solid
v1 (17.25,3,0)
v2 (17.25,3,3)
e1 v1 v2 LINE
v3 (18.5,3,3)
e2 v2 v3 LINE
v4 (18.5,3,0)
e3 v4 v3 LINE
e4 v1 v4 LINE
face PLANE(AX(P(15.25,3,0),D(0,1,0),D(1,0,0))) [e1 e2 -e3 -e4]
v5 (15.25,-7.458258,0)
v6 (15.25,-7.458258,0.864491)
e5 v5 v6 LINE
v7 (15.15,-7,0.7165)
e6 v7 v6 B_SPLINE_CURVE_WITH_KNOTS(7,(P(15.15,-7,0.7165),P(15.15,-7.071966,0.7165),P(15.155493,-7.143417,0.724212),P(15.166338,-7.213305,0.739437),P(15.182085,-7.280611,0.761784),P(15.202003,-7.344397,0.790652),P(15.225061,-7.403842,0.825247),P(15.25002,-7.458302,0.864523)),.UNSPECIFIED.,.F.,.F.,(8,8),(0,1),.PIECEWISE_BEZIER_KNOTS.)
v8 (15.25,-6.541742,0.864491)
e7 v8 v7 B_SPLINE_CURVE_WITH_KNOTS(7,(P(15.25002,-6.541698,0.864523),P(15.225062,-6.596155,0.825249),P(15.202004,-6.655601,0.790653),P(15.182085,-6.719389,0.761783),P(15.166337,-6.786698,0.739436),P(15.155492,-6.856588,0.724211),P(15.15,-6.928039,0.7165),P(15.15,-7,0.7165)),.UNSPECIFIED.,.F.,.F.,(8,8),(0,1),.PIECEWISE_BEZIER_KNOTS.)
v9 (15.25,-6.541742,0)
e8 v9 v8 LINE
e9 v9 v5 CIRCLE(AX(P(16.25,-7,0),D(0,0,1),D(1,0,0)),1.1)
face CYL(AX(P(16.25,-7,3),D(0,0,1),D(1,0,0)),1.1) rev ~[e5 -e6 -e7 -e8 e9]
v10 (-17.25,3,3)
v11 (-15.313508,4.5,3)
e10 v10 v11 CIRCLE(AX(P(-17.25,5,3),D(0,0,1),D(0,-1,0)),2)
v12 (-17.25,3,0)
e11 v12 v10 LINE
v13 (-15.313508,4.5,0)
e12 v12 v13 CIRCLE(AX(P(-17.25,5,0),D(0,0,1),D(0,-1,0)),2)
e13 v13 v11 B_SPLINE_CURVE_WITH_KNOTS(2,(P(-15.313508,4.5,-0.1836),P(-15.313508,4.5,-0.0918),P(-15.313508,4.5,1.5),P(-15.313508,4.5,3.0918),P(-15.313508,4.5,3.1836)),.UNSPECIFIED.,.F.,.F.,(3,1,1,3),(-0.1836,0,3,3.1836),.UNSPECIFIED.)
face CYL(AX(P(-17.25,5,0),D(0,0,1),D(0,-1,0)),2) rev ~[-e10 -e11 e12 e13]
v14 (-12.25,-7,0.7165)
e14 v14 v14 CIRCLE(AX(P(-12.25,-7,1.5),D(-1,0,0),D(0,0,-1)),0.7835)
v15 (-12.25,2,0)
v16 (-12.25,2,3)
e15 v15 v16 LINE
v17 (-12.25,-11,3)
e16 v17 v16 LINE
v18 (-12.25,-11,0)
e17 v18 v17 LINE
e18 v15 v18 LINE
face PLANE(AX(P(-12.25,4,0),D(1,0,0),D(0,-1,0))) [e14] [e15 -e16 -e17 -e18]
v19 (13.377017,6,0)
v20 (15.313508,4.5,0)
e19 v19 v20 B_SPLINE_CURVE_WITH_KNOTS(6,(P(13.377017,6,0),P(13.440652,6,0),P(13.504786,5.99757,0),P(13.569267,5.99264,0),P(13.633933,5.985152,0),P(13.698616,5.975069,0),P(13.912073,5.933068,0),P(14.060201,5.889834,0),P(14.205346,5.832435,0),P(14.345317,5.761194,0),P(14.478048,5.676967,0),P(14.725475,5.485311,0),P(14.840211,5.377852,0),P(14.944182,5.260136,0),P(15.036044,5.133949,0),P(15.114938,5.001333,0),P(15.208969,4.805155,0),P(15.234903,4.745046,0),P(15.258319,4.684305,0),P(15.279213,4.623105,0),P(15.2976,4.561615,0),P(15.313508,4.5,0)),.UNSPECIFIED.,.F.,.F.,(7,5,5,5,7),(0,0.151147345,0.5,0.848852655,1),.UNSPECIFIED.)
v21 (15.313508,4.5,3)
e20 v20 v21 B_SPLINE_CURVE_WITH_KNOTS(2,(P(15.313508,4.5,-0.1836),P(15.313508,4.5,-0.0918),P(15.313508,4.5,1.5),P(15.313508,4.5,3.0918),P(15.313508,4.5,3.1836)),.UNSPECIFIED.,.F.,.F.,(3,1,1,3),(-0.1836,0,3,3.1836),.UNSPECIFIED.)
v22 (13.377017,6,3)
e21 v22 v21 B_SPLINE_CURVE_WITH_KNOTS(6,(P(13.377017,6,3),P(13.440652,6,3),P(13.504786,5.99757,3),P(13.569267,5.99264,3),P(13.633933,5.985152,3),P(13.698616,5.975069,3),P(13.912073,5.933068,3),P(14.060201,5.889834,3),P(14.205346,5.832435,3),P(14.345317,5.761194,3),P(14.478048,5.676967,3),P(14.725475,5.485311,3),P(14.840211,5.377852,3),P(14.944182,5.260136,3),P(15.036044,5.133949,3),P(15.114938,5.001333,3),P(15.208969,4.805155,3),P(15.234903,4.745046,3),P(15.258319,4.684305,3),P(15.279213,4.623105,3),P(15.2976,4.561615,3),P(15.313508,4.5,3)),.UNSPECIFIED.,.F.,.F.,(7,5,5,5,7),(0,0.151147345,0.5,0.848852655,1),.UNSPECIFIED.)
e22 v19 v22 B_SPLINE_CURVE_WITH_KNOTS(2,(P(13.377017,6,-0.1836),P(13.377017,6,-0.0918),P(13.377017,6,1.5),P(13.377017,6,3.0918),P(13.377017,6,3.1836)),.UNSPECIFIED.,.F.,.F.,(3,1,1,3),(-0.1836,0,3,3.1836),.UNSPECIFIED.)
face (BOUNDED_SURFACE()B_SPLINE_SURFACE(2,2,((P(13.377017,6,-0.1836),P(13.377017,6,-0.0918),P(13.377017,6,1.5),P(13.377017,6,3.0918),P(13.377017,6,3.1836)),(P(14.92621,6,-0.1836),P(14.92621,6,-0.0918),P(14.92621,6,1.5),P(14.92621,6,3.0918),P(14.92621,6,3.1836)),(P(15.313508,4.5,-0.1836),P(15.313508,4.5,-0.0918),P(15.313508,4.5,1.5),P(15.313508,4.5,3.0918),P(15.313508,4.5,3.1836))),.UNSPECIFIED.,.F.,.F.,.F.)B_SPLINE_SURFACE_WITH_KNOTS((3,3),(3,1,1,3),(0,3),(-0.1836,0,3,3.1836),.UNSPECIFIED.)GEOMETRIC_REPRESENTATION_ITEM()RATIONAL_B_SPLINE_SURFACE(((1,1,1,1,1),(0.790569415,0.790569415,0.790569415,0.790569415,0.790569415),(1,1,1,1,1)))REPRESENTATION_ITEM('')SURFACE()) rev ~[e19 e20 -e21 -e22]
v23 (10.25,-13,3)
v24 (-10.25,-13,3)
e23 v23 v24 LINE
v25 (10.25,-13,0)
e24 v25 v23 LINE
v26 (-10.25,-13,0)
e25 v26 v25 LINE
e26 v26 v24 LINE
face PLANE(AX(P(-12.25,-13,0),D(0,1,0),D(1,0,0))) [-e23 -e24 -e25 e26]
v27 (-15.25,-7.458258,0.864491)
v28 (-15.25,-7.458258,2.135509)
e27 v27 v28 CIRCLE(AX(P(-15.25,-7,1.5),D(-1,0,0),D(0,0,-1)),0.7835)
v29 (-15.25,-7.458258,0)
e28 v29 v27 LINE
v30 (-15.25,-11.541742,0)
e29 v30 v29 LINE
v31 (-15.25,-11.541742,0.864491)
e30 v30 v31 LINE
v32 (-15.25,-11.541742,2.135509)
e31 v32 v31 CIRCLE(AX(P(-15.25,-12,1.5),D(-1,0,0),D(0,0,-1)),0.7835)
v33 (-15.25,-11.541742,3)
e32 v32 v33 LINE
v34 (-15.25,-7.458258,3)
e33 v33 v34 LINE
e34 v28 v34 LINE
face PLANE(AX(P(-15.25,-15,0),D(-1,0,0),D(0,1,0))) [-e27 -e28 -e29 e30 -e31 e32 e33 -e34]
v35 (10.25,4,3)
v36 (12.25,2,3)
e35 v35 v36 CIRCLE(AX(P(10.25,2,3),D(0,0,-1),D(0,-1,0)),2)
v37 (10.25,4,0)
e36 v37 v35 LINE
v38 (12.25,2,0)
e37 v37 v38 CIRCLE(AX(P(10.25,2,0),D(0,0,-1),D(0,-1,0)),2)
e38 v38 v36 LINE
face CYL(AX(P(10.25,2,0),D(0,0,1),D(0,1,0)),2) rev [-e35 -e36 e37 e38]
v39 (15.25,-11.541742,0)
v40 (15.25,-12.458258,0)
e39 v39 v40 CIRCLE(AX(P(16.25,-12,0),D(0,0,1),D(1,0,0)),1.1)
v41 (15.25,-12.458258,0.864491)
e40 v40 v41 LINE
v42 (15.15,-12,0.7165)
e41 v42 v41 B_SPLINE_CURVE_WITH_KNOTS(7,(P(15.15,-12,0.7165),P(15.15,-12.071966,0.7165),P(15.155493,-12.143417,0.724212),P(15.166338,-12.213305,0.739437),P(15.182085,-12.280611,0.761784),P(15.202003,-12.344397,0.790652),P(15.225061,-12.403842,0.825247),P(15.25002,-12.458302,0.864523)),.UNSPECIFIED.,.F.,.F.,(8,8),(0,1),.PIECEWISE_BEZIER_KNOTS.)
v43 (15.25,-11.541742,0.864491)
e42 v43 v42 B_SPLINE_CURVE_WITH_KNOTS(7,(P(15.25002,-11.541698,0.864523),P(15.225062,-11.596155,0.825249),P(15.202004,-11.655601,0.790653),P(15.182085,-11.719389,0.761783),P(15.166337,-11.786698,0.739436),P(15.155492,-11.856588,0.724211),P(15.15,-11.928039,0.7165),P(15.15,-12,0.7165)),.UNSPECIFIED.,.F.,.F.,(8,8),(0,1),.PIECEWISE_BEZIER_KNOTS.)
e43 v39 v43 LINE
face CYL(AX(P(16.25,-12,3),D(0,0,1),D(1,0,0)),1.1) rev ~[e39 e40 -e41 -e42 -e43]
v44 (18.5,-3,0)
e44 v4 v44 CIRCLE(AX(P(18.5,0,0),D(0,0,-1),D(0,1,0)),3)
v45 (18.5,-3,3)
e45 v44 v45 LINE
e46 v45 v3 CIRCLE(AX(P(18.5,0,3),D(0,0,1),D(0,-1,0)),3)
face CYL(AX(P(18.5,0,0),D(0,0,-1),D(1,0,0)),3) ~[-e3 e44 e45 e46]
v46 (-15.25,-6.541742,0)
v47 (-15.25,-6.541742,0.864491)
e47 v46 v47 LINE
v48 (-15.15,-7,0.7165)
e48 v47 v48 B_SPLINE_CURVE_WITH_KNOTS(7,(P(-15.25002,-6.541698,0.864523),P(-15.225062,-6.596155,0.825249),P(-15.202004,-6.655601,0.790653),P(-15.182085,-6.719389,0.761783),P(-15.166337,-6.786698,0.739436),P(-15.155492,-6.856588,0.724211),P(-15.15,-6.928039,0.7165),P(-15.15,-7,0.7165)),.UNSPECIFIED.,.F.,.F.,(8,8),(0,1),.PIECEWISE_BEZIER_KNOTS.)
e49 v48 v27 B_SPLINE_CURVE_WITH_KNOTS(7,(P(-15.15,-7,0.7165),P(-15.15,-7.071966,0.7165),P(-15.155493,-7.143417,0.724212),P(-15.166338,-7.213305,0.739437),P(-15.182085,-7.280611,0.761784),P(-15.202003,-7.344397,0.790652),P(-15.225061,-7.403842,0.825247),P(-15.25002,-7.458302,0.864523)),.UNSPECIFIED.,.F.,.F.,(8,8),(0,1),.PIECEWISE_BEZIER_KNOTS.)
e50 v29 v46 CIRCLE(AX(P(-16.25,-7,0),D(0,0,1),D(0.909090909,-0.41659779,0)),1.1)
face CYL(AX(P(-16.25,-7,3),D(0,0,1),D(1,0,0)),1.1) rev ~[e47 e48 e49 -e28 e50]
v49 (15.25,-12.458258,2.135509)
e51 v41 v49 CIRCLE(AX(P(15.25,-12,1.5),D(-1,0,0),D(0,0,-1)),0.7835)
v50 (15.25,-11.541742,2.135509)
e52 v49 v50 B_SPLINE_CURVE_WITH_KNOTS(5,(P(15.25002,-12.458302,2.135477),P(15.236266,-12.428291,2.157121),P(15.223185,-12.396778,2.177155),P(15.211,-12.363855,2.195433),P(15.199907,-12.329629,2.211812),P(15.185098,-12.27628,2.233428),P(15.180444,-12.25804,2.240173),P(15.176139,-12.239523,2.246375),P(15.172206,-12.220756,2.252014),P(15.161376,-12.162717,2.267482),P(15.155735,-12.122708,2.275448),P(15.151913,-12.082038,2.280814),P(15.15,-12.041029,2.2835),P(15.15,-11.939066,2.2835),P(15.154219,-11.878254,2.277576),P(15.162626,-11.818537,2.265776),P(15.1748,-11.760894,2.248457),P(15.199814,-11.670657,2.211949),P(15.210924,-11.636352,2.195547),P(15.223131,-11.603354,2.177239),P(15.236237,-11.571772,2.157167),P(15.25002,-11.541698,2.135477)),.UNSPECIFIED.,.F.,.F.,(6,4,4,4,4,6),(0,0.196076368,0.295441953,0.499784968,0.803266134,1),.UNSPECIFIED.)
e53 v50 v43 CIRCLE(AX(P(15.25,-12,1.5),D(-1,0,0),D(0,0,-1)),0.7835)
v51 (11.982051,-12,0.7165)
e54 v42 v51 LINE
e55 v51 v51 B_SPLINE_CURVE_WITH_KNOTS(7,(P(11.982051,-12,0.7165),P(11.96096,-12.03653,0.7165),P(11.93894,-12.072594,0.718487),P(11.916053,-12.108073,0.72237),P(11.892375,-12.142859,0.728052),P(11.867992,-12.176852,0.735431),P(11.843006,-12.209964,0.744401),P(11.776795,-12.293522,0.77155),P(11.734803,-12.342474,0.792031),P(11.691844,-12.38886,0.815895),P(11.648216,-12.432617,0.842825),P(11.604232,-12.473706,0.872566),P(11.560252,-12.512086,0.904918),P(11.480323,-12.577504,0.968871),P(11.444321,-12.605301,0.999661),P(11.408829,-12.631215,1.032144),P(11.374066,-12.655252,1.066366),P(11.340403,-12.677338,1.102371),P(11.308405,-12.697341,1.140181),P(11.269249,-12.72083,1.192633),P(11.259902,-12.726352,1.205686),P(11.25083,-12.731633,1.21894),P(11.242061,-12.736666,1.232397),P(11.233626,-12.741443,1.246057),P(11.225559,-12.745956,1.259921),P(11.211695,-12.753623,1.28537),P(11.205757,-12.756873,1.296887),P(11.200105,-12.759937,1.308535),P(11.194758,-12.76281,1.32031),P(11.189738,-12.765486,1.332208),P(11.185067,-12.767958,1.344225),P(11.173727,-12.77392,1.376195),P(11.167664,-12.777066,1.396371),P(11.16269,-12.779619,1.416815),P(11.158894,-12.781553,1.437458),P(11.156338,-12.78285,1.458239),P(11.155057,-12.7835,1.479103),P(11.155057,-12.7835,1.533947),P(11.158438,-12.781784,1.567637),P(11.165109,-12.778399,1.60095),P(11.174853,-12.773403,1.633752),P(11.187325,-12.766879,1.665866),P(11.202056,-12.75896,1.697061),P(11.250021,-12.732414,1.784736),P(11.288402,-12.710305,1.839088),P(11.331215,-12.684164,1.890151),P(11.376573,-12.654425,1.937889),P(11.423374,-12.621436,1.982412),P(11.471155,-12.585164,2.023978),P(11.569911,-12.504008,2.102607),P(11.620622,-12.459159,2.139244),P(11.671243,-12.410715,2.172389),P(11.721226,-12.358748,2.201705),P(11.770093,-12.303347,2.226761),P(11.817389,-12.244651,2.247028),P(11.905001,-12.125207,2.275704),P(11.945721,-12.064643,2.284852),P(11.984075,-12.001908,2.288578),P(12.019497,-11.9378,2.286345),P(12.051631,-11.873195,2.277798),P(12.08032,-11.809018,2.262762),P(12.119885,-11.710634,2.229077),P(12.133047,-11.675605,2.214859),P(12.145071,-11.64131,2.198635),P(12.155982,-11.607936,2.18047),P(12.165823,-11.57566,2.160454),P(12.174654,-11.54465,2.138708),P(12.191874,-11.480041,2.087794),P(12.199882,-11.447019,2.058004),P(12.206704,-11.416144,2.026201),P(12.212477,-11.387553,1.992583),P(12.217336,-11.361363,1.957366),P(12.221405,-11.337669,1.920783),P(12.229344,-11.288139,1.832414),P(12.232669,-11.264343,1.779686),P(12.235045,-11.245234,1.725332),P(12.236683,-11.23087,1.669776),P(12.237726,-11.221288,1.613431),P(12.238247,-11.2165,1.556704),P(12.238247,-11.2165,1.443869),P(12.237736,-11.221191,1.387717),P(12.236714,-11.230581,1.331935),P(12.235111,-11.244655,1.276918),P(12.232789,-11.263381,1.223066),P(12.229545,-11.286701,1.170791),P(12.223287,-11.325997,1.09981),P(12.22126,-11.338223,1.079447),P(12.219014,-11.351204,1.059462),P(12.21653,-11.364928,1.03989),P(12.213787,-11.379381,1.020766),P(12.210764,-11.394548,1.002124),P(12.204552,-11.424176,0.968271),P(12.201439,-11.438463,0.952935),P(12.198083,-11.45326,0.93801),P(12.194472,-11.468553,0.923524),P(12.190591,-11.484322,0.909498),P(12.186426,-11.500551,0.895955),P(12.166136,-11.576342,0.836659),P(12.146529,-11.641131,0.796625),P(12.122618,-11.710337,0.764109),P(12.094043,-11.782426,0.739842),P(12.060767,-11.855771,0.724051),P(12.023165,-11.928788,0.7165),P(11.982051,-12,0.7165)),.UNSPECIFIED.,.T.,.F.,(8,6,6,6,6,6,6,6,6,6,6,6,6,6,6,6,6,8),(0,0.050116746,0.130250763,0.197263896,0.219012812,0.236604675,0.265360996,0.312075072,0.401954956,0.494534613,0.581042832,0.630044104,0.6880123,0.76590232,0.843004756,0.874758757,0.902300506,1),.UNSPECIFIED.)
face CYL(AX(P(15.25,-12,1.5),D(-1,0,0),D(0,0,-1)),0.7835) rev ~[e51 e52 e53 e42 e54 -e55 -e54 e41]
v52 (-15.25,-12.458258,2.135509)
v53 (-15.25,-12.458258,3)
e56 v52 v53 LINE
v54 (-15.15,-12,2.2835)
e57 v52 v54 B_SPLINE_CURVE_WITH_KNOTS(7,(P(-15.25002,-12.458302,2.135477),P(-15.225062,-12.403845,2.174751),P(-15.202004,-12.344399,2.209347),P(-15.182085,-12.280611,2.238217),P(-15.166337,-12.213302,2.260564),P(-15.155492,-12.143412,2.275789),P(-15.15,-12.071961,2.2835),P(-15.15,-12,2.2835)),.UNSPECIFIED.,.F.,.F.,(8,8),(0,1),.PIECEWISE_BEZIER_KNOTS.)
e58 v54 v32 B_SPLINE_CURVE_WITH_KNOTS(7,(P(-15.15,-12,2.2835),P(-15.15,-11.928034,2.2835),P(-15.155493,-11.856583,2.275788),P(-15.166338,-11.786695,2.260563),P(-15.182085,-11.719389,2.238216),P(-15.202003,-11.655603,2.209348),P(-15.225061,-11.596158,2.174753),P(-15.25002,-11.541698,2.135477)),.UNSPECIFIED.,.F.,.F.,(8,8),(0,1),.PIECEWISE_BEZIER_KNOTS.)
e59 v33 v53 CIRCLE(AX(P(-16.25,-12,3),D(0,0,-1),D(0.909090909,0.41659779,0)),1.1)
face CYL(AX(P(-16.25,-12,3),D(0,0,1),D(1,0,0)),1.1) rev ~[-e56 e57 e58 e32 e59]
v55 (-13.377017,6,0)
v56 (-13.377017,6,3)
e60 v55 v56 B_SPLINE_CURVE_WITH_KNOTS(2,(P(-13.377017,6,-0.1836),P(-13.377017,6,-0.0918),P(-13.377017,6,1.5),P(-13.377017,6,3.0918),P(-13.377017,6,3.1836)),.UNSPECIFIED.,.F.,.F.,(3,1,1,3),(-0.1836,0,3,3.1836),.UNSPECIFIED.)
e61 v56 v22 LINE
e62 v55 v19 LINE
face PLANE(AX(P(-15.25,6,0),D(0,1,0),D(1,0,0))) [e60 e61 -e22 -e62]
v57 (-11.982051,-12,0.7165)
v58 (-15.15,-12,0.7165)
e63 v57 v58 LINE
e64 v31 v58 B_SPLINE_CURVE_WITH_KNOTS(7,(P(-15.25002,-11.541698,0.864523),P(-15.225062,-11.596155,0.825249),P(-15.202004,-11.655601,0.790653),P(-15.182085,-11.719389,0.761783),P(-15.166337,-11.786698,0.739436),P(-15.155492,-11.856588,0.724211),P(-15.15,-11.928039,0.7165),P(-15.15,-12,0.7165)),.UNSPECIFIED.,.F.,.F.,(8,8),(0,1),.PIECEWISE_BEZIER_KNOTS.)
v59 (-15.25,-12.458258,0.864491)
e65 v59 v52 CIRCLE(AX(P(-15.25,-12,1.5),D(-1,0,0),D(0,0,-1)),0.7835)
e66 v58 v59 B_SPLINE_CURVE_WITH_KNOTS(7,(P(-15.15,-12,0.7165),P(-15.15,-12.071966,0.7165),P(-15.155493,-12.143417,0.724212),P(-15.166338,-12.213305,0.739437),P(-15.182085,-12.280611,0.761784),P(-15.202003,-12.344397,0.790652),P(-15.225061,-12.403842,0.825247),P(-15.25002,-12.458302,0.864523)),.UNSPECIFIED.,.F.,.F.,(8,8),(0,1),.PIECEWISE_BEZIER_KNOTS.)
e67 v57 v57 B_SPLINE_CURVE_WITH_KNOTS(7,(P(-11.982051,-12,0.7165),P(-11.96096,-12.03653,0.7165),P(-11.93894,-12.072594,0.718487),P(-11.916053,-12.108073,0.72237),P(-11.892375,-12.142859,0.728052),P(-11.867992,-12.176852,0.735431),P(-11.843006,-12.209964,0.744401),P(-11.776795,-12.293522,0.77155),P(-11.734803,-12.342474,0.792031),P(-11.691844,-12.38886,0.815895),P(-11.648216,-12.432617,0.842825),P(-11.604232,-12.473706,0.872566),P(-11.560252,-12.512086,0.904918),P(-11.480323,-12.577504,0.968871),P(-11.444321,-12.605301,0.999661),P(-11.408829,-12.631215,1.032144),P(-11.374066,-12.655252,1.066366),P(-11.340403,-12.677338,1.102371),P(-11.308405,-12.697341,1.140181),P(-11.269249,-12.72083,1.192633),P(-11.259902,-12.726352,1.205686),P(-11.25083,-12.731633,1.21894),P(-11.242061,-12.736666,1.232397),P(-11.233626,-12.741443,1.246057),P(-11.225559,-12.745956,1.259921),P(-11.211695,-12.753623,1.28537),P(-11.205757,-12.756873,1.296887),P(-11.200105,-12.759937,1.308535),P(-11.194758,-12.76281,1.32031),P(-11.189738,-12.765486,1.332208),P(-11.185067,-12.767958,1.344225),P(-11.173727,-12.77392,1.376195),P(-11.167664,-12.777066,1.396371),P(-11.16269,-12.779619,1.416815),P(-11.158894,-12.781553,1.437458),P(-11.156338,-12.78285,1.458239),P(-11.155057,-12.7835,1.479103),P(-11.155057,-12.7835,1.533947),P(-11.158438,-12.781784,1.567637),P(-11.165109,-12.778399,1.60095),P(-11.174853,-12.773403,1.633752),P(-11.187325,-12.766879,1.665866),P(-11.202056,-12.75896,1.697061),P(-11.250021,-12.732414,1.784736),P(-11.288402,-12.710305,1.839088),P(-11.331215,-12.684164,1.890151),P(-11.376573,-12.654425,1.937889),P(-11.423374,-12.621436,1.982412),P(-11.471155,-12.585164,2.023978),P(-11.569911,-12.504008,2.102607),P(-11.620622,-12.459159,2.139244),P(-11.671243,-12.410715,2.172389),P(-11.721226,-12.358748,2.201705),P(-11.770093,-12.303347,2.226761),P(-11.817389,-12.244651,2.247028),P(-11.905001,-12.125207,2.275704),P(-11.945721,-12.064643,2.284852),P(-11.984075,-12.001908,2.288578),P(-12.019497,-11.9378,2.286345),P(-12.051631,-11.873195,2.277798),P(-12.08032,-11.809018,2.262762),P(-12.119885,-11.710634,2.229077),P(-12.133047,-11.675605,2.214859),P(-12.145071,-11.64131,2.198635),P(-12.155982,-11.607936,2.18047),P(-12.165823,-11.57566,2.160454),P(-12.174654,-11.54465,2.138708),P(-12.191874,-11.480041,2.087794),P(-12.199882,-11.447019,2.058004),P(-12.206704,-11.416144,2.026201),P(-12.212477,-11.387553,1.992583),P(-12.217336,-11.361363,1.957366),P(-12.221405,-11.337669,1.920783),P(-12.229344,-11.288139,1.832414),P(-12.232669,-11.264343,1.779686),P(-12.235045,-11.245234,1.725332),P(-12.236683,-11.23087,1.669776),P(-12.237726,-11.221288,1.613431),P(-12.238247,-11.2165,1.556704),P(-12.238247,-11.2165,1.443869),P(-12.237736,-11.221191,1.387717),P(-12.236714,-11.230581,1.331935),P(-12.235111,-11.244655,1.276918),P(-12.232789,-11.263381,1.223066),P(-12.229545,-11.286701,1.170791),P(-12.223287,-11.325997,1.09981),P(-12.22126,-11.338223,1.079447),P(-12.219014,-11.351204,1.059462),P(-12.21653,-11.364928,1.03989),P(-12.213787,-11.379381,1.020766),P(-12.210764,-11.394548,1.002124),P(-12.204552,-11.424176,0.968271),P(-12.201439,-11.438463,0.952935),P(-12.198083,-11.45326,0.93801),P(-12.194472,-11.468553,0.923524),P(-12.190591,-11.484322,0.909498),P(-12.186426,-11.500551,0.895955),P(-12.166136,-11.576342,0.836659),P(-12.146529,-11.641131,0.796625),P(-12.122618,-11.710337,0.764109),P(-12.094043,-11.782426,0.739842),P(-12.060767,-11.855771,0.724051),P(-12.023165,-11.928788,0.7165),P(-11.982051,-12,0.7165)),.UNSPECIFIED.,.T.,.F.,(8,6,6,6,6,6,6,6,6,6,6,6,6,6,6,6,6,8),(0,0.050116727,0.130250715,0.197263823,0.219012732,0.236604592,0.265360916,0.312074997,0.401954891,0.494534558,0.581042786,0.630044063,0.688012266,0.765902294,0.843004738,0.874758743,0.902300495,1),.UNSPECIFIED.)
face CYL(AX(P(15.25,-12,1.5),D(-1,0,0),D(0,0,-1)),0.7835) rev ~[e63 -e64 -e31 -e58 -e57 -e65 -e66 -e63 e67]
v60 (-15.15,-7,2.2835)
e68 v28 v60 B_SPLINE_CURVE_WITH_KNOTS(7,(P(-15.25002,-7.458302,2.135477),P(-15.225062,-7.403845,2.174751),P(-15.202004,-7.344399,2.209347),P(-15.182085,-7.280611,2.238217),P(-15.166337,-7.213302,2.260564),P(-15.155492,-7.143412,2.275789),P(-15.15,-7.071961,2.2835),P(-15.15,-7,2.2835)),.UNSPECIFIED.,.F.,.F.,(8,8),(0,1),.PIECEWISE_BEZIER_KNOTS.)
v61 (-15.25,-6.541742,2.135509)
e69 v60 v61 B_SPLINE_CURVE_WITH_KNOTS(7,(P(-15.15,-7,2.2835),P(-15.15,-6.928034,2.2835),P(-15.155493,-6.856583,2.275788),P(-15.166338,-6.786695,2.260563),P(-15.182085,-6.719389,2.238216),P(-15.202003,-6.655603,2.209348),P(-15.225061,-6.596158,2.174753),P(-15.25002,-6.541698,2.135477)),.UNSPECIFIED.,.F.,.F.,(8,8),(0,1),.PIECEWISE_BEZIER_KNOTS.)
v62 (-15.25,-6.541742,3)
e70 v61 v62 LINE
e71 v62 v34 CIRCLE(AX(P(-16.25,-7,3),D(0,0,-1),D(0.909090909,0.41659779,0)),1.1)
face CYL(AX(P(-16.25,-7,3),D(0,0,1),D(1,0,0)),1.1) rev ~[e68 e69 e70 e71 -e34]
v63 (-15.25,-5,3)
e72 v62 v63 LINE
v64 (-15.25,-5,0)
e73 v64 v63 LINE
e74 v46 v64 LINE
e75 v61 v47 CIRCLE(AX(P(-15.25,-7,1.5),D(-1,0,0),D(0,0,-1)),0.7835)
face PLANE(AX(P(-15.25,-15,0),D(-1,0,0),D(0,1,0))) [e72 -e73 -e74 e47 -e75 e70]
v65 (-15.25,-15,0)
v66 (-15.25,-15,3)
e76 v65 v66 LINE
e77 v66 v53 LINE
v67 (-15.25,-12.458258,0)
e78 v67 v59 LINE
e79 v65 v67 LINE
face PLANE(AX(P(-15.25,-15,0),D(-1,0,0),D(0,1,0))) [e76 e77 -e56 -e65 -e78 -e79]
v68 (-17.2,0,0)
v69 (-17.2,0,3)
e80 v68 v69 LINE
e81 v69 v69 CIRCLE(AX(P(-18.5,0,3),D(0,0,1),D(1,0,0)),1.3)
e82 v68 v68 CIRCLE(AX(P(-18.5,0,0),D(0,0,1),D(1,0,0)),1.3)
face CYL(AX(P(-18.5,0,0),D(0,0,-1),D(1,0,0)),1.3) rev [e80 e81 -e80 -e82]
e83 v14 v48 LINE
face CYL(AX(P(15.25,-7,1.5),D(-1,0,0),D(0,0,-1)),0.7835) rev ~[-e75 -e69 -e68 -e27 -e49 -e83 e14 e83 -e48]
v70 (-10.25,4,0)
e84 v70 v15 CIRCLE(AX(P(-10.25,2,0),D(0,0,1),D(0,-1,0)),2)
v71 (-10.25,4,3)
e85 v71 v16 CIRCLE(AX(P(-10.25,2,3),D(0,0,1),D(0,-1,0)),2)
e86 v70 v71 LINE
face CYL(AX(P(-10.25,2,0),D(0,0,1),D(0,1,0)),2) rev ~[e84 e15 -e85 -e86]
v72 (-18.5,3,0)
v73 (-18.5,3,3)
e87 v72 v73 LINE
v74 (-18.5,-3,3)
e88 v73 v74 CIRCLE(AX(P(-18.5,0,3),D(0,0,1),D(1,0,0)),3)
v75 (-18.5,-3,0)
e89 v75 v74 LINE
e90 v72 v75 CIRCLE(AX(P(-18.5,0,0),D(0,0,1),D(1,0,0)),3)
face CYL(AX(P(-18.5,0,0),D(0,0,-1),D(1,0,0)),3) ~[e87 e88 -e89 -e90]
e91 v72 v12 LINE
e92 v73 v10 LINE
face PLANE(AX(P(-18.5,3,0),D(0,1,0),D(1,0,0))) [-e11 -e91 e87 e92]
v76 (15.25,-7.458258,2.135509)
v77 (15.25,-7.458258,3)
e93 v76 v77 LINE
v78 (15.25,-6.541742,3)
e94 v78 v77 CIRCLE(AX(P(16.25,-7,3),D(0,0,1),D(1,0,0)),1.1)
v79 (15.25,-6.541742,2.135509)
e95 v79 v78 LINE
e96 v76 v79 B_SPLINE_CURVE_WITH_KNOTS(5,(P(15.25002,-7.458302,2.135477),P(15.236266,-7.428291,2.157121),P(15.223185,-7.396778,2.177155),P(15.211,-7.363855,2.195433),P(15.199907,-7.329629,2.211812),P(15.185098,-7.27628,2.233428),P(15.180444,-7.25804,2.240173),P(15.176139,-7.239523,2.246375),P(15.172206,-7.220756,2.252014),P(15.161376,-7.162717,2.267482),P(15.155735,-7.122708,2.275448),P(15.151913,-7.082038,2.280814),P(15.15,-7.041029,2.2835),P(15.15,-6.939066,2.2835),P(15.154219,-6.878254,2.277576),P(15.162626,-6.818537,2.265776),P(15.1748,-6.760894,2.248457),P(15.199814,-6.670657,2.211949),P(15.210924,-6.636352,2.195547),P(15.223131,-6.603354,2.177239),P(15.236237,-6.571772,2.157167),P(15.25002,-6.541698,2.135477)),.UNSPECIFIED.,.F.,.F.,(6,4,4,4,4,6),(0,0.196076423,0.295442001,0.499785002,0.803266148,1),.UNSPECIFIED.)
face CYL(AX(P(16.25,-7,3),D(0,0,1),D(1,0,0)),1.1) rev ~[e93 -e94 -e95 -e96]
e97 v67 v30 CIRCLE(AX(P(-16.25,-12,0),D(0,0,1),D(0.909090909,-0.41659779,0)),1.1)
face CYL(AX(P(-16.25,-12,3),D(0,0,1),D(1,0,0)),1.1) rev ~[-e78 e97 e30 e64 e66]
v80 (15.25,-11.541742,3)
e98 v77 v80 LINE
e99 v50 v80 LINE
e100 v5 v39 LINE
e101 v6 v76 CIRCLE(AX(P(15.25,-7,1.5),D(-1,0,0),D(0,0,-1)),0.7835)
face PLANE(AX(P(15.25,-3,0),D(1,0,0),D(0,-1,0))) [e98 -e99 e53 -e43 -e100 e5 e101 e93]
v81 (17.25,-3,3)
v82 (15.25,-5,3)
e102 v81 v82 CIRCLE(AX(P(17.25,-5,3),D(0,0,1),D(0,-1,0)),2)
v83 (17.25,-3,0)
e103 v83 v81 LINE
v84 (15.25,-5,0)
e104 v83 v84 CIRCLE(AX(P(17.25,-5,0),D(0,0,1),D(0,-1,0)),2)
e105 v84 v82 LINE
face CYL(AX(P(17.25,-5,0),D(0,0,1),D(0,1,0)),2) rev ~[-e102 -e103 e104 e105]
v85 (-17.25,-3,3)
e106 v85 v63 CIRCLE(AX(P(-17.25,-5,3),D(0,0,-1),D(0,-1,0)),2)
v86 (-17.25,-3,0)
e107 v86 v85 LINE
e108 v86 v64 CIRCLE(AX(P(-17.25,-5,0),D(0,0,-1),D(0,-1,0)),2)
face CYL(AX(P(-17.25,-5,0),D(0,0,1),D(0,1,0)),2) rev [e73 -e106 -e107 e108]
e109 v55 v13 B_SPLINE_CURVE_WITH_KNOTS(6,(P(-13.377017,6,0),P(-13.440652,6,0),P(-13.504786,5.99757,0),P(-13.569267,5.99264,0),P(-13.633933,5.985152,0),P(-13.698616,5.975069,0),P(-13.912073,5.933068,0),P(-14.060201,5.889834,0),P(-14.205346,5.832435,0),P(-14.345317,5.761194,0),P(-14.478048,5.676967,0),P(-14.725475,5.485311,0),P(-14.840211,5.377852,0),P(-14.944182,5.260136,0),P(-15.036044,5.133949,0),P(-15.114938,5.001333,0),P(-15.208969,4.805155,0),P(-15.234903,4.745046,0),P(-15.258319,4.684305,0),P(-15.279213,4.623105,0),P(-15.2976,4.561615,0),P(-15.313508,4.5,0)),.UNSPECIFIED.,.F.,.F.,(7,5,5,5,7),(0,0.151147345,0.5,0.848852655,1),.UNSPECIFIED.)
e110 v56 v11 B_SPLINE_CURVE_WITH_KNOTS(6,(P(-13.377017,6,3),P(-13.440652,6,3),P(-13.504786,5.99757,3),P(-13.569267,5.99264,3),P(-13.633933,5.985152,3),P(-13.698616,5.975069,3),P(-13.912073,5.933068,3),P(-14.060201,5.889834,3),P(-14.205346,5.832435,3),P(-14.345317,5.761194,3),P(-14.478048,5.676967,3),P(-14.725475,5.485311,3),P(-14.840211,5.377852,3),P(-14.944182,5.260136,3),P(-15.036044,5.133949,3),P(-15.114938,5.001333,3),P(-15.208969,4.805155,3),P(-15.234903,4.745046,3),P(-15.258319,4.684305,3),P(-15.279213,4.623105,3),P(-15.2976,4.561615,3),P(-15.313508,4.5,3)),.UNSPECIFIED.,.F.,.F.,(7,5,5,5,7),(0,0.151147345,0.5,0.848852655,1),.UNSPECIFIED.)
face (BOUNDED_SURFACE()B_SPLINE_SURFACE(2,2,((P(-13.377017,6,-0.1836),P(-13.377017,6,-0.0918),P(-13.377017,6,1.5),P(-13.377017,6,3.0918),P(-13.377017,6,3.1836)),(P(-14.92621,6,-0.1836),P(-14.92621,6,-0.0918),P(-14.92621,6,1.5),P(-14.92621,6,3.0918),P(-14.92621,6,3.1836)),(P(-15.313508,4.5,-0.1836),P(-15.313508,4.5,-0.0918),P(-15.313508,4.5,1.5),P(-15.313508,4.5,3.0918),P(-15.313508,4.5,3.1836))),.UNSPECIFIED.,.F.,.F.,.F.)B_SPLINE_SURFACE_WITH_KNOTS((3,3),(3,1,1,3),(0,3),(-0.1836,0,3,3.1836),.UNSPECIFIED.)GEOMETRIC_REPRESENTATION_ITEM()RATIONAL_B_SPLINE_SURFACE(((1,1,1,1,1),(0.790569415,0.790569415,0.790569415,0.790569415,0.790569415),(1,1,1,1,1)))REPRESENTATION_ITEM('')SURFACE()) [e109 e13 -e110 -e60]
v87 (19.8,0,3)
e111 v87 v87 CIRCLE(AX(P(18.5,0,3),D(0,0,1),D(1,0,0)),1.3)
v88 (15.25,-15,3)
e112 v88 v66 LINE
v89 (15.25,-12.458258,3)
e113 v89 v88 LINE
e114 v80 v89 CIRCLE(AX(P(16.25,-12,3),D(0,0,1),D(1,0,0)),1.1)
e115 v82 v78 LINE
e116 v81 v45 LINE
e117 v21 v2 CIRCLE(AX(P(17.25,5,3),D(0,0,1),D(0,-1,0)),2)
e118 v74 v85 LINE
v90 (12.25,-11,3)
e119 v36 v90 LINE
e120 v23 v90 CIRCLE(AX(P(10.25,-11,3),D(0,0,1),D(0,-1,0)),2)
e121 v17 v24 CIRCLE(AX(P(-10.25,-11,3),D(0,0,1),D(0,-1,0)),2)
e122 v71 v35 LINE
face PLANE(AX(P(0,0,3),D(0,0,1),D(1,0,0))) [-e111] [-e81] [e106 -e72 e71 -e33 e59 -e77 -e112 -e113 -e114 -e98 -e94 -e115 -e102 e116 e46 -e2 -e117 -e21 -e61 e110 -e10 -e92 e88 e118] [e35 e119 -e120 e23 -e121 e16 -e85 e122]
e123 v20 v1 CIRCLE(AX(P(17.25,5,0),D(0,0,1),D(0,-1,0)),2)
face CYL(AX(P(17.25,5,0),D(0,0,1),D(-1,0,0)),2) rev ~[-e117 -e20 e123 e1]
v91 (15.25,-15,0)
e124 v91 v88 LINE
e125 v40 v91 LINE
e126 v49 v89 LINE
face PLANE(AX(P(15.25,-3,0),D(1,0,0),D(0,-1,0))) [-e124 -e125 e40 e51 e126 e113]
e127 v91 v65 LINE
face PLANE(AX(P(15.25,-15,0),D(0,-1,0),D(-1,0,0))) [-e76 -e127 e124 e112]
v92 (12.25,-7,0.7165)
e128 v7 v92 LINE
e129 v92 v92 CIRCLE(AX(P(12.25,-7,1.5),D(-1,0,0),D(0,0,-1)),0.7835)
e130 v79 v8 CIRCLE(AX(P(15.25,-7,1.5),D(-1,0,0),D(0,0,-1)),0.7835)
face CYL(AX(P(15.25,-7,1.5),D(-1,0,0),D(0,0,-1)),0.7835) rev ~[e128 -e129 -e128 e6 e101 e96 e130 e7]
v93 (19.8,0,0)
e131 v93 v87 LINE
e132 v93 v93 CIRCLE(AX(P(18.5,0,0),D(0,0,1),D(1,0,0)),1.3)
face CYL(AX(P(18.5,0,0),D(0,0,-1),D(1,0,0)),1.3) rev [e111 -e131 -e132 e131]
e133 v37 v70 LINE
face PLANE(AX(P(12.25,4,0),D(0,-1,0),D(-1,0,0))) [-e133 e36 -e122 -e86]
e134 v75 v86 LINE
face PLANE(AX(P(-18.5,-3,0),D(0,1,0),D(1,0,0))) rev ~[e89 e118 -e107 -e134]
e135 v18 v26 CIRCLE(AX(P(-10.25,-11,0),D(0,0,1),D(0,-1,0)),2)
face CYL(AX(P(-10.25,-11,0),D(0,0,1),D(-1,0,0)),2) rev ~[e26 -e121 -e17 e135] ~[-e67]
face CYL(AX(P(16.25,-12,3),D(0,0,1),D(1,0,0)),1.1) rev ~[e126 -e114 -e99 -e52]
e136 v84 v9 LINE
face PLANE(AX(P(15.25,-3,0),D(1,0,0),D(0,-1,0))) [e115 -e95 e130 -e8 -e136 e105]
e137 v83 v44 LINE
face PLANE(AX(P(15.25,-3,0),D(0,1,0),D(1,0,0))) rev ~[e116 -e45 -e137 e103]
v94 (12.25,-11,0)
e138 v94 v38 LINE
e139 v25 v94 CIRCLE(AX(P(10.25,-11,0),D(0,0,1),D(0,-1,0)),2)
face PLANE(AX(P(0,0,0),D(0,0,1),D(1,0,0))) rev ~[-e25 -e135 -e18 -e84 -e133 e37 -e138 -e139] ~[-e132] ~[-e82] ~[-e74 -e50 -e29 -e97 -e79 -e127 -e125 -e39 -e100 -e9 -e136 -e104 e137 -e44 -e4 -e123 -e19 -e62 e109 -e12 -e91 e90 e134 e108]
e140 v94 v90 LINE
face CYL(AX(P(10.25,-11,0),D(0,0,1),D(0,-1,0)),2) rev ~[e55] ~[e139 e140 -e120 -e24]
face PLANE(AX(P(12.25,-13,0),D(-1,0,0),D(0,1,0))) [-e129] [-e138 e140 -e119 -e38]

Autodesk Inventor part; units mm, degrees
ref_plane "YZ Plane" through (0, 0, 0) normal (1, 0, 0) x (0, 1, 0)
ref_plane "XZ Plane" through (0, 0, 0) normal (0, 1, 0) x (-1, 0, 0)
ref_plane "XY Plane" through (0, 0, 0) normal (0, 0, 1) x (1, 0, 0)
sketch "スケッチ1" plane through (0, 0, 0) normal (0, 0, 1) x (1, 0, 0)
  line L0 (0, 0) -> (0, 2.6709) construction
  circle A0 centre (-18.5, 0) radius 1.3
  circle A1 centre (18.5, 0) radius 1.3
  circle A2 centre (-18.5, 0) radius 3
  circle A3 centre (18.5, 0) radius 3
  line L1 (-18.5, 3) -> (18.5, 3)
  line L2 (-18.5, -3) -> (18.5, -3)
  line L3 (-15.25, 6) -> (15.25, 6)
  line L4 (15.25, 6) -> (15.25, -15)
  line L5 (15.25, -15) -> (-15.25, -15)
  line L6 (-15.25, -15) -> (-15.25, 6)
  point P0 (-18.5, 3)
  point P1 (15.25, -3)
  point P2 (-15.25, -3)
  point P3 (-15.25, 3)
  point P4 (15.25, 3)
  point P5 (0, 6)
  point P6 (0, 3)
  dimension "d0" = 2.6
  dimension "d1" = 18.5
  dimension "d2" = 6
  dimension "d3" = 6
  dimension "d6" = 3
  dimension "d7" = 12
  dimension "d9" = 30.5
extrude "押し出し1" add sketch "スケッチ1" along normal blind 3
fillet "フィレット1" radius 2 6 edges at (-15.25, 3, 1.5) (-15.25, -3, 1.5) (15.25, 3, 1.5) (15.25, -3, 1.5) (-15.25, 6, 1.5) (15.25, 6, 1.5)
sketch "スケッチ4" plane through (0, 0, 0) normal (0, 0, -1) x (-1, 0, 0)
  line L0 (-12.25, 4) -> (12.25, 4)
  line L1 (12.25, 4) -> (12.25, -13)
  line L2 (12.25, -13) -> (-12.25, -13)
  line L3 (-12.25, -13) -> (-12.25, 4)
  line L4 (15.25, -15) -> (-15.25, -15) projected
  line L5 (-13.377, 6) -> (13.377, 6) projected
  line L6 (-15.25, -15) -> (-15.25, -5) projected
  line L7 (15.25, -5) -> (15.25, -15) projected
  point P0 (0, 0)
  dimension "d27" = 2
  dimension "d28" = 2
  dimension "d32" = 3
  dimension "d33" = 3
extrude "押し出し3" cut sketch "スケッチ4" against normal through all
fillet "フィレット2" radius 2 4 edges at (12.25, 4, 1.5) (-12.25, 4, 1.5) (12.25, -13, 1.5) (-12.25, -13, 1.5)
sketch "スケッチ2" plane through (15.25, -15, 3) normal (1, 0, 0) x (0, 0, -1)
  line L0 (3, 0) -> (0, 0) projected
  point P0 (3, 15)
  point P1 (1.5, 3)
  point P2 (1.5, 8)
  point P3 (1.5, 0)
  dimension "d10" = 3
  dimension "d11" = 5
hole "穴1" at (15.25, -12, 1.5) at (15.25, -7, 1.5) direction (-1, 0, 0) diameter 1.567 end through all thread size "M2x0.4" class "6H" standard "ISO Metric profile"
sketch "スケッチ3" plane through (0, 0, 3) normal (0, 0, 1) x (1, 0, 0)
  line L0 (-15.25, -12.7835) -> (-15.25, -11.2165) construction
  line L1 (-15.25, -7.7835) -> (-15.25, -6.2165) construction
  line L2 (15.25, -11.2165) -> (15.25, -12.7835) construction
  line L3 (15.25, -6.2165) -> (15.25, -7.7835) construction
  circle A0 centre (-16.25, -12) radius 1.1
  circle A1 centre (-16.25, -7) radius 1.1
  line L4 (-15.25, -15) -> (15.25, -15) construction
  line L5 (0, -15) -> (0, 6) construction
  line L6 (13.377, 6) -> (-13.377, 6) construction
  line L7 (15.25, -12.7835) -> (15.25, -11.2165) construction
  line L8 (15.25, -7.7835) -> (15.25, -6.2165) construction
  circle A2 centre (16.25, -12) radius 1.1
  circle A3 centre (16.25, -7) radius 1.1
  point P0 (0, 0)
  point P1 (-15.25, -12)
  point P2 (-15.25, -7)
  point P3 (15.25, -12)
  point P4 (15.25, -7)
  dimension "d19" = 2.2
  dimension "d20" = 2.2
  dimension "d21" = 1
  dimension "d22" = 1
extrude "押し出し2" cut sketch "スケッチ3" against normal through all
properties part number "ude_sensor" material "アルミニウム 2014-T4"
